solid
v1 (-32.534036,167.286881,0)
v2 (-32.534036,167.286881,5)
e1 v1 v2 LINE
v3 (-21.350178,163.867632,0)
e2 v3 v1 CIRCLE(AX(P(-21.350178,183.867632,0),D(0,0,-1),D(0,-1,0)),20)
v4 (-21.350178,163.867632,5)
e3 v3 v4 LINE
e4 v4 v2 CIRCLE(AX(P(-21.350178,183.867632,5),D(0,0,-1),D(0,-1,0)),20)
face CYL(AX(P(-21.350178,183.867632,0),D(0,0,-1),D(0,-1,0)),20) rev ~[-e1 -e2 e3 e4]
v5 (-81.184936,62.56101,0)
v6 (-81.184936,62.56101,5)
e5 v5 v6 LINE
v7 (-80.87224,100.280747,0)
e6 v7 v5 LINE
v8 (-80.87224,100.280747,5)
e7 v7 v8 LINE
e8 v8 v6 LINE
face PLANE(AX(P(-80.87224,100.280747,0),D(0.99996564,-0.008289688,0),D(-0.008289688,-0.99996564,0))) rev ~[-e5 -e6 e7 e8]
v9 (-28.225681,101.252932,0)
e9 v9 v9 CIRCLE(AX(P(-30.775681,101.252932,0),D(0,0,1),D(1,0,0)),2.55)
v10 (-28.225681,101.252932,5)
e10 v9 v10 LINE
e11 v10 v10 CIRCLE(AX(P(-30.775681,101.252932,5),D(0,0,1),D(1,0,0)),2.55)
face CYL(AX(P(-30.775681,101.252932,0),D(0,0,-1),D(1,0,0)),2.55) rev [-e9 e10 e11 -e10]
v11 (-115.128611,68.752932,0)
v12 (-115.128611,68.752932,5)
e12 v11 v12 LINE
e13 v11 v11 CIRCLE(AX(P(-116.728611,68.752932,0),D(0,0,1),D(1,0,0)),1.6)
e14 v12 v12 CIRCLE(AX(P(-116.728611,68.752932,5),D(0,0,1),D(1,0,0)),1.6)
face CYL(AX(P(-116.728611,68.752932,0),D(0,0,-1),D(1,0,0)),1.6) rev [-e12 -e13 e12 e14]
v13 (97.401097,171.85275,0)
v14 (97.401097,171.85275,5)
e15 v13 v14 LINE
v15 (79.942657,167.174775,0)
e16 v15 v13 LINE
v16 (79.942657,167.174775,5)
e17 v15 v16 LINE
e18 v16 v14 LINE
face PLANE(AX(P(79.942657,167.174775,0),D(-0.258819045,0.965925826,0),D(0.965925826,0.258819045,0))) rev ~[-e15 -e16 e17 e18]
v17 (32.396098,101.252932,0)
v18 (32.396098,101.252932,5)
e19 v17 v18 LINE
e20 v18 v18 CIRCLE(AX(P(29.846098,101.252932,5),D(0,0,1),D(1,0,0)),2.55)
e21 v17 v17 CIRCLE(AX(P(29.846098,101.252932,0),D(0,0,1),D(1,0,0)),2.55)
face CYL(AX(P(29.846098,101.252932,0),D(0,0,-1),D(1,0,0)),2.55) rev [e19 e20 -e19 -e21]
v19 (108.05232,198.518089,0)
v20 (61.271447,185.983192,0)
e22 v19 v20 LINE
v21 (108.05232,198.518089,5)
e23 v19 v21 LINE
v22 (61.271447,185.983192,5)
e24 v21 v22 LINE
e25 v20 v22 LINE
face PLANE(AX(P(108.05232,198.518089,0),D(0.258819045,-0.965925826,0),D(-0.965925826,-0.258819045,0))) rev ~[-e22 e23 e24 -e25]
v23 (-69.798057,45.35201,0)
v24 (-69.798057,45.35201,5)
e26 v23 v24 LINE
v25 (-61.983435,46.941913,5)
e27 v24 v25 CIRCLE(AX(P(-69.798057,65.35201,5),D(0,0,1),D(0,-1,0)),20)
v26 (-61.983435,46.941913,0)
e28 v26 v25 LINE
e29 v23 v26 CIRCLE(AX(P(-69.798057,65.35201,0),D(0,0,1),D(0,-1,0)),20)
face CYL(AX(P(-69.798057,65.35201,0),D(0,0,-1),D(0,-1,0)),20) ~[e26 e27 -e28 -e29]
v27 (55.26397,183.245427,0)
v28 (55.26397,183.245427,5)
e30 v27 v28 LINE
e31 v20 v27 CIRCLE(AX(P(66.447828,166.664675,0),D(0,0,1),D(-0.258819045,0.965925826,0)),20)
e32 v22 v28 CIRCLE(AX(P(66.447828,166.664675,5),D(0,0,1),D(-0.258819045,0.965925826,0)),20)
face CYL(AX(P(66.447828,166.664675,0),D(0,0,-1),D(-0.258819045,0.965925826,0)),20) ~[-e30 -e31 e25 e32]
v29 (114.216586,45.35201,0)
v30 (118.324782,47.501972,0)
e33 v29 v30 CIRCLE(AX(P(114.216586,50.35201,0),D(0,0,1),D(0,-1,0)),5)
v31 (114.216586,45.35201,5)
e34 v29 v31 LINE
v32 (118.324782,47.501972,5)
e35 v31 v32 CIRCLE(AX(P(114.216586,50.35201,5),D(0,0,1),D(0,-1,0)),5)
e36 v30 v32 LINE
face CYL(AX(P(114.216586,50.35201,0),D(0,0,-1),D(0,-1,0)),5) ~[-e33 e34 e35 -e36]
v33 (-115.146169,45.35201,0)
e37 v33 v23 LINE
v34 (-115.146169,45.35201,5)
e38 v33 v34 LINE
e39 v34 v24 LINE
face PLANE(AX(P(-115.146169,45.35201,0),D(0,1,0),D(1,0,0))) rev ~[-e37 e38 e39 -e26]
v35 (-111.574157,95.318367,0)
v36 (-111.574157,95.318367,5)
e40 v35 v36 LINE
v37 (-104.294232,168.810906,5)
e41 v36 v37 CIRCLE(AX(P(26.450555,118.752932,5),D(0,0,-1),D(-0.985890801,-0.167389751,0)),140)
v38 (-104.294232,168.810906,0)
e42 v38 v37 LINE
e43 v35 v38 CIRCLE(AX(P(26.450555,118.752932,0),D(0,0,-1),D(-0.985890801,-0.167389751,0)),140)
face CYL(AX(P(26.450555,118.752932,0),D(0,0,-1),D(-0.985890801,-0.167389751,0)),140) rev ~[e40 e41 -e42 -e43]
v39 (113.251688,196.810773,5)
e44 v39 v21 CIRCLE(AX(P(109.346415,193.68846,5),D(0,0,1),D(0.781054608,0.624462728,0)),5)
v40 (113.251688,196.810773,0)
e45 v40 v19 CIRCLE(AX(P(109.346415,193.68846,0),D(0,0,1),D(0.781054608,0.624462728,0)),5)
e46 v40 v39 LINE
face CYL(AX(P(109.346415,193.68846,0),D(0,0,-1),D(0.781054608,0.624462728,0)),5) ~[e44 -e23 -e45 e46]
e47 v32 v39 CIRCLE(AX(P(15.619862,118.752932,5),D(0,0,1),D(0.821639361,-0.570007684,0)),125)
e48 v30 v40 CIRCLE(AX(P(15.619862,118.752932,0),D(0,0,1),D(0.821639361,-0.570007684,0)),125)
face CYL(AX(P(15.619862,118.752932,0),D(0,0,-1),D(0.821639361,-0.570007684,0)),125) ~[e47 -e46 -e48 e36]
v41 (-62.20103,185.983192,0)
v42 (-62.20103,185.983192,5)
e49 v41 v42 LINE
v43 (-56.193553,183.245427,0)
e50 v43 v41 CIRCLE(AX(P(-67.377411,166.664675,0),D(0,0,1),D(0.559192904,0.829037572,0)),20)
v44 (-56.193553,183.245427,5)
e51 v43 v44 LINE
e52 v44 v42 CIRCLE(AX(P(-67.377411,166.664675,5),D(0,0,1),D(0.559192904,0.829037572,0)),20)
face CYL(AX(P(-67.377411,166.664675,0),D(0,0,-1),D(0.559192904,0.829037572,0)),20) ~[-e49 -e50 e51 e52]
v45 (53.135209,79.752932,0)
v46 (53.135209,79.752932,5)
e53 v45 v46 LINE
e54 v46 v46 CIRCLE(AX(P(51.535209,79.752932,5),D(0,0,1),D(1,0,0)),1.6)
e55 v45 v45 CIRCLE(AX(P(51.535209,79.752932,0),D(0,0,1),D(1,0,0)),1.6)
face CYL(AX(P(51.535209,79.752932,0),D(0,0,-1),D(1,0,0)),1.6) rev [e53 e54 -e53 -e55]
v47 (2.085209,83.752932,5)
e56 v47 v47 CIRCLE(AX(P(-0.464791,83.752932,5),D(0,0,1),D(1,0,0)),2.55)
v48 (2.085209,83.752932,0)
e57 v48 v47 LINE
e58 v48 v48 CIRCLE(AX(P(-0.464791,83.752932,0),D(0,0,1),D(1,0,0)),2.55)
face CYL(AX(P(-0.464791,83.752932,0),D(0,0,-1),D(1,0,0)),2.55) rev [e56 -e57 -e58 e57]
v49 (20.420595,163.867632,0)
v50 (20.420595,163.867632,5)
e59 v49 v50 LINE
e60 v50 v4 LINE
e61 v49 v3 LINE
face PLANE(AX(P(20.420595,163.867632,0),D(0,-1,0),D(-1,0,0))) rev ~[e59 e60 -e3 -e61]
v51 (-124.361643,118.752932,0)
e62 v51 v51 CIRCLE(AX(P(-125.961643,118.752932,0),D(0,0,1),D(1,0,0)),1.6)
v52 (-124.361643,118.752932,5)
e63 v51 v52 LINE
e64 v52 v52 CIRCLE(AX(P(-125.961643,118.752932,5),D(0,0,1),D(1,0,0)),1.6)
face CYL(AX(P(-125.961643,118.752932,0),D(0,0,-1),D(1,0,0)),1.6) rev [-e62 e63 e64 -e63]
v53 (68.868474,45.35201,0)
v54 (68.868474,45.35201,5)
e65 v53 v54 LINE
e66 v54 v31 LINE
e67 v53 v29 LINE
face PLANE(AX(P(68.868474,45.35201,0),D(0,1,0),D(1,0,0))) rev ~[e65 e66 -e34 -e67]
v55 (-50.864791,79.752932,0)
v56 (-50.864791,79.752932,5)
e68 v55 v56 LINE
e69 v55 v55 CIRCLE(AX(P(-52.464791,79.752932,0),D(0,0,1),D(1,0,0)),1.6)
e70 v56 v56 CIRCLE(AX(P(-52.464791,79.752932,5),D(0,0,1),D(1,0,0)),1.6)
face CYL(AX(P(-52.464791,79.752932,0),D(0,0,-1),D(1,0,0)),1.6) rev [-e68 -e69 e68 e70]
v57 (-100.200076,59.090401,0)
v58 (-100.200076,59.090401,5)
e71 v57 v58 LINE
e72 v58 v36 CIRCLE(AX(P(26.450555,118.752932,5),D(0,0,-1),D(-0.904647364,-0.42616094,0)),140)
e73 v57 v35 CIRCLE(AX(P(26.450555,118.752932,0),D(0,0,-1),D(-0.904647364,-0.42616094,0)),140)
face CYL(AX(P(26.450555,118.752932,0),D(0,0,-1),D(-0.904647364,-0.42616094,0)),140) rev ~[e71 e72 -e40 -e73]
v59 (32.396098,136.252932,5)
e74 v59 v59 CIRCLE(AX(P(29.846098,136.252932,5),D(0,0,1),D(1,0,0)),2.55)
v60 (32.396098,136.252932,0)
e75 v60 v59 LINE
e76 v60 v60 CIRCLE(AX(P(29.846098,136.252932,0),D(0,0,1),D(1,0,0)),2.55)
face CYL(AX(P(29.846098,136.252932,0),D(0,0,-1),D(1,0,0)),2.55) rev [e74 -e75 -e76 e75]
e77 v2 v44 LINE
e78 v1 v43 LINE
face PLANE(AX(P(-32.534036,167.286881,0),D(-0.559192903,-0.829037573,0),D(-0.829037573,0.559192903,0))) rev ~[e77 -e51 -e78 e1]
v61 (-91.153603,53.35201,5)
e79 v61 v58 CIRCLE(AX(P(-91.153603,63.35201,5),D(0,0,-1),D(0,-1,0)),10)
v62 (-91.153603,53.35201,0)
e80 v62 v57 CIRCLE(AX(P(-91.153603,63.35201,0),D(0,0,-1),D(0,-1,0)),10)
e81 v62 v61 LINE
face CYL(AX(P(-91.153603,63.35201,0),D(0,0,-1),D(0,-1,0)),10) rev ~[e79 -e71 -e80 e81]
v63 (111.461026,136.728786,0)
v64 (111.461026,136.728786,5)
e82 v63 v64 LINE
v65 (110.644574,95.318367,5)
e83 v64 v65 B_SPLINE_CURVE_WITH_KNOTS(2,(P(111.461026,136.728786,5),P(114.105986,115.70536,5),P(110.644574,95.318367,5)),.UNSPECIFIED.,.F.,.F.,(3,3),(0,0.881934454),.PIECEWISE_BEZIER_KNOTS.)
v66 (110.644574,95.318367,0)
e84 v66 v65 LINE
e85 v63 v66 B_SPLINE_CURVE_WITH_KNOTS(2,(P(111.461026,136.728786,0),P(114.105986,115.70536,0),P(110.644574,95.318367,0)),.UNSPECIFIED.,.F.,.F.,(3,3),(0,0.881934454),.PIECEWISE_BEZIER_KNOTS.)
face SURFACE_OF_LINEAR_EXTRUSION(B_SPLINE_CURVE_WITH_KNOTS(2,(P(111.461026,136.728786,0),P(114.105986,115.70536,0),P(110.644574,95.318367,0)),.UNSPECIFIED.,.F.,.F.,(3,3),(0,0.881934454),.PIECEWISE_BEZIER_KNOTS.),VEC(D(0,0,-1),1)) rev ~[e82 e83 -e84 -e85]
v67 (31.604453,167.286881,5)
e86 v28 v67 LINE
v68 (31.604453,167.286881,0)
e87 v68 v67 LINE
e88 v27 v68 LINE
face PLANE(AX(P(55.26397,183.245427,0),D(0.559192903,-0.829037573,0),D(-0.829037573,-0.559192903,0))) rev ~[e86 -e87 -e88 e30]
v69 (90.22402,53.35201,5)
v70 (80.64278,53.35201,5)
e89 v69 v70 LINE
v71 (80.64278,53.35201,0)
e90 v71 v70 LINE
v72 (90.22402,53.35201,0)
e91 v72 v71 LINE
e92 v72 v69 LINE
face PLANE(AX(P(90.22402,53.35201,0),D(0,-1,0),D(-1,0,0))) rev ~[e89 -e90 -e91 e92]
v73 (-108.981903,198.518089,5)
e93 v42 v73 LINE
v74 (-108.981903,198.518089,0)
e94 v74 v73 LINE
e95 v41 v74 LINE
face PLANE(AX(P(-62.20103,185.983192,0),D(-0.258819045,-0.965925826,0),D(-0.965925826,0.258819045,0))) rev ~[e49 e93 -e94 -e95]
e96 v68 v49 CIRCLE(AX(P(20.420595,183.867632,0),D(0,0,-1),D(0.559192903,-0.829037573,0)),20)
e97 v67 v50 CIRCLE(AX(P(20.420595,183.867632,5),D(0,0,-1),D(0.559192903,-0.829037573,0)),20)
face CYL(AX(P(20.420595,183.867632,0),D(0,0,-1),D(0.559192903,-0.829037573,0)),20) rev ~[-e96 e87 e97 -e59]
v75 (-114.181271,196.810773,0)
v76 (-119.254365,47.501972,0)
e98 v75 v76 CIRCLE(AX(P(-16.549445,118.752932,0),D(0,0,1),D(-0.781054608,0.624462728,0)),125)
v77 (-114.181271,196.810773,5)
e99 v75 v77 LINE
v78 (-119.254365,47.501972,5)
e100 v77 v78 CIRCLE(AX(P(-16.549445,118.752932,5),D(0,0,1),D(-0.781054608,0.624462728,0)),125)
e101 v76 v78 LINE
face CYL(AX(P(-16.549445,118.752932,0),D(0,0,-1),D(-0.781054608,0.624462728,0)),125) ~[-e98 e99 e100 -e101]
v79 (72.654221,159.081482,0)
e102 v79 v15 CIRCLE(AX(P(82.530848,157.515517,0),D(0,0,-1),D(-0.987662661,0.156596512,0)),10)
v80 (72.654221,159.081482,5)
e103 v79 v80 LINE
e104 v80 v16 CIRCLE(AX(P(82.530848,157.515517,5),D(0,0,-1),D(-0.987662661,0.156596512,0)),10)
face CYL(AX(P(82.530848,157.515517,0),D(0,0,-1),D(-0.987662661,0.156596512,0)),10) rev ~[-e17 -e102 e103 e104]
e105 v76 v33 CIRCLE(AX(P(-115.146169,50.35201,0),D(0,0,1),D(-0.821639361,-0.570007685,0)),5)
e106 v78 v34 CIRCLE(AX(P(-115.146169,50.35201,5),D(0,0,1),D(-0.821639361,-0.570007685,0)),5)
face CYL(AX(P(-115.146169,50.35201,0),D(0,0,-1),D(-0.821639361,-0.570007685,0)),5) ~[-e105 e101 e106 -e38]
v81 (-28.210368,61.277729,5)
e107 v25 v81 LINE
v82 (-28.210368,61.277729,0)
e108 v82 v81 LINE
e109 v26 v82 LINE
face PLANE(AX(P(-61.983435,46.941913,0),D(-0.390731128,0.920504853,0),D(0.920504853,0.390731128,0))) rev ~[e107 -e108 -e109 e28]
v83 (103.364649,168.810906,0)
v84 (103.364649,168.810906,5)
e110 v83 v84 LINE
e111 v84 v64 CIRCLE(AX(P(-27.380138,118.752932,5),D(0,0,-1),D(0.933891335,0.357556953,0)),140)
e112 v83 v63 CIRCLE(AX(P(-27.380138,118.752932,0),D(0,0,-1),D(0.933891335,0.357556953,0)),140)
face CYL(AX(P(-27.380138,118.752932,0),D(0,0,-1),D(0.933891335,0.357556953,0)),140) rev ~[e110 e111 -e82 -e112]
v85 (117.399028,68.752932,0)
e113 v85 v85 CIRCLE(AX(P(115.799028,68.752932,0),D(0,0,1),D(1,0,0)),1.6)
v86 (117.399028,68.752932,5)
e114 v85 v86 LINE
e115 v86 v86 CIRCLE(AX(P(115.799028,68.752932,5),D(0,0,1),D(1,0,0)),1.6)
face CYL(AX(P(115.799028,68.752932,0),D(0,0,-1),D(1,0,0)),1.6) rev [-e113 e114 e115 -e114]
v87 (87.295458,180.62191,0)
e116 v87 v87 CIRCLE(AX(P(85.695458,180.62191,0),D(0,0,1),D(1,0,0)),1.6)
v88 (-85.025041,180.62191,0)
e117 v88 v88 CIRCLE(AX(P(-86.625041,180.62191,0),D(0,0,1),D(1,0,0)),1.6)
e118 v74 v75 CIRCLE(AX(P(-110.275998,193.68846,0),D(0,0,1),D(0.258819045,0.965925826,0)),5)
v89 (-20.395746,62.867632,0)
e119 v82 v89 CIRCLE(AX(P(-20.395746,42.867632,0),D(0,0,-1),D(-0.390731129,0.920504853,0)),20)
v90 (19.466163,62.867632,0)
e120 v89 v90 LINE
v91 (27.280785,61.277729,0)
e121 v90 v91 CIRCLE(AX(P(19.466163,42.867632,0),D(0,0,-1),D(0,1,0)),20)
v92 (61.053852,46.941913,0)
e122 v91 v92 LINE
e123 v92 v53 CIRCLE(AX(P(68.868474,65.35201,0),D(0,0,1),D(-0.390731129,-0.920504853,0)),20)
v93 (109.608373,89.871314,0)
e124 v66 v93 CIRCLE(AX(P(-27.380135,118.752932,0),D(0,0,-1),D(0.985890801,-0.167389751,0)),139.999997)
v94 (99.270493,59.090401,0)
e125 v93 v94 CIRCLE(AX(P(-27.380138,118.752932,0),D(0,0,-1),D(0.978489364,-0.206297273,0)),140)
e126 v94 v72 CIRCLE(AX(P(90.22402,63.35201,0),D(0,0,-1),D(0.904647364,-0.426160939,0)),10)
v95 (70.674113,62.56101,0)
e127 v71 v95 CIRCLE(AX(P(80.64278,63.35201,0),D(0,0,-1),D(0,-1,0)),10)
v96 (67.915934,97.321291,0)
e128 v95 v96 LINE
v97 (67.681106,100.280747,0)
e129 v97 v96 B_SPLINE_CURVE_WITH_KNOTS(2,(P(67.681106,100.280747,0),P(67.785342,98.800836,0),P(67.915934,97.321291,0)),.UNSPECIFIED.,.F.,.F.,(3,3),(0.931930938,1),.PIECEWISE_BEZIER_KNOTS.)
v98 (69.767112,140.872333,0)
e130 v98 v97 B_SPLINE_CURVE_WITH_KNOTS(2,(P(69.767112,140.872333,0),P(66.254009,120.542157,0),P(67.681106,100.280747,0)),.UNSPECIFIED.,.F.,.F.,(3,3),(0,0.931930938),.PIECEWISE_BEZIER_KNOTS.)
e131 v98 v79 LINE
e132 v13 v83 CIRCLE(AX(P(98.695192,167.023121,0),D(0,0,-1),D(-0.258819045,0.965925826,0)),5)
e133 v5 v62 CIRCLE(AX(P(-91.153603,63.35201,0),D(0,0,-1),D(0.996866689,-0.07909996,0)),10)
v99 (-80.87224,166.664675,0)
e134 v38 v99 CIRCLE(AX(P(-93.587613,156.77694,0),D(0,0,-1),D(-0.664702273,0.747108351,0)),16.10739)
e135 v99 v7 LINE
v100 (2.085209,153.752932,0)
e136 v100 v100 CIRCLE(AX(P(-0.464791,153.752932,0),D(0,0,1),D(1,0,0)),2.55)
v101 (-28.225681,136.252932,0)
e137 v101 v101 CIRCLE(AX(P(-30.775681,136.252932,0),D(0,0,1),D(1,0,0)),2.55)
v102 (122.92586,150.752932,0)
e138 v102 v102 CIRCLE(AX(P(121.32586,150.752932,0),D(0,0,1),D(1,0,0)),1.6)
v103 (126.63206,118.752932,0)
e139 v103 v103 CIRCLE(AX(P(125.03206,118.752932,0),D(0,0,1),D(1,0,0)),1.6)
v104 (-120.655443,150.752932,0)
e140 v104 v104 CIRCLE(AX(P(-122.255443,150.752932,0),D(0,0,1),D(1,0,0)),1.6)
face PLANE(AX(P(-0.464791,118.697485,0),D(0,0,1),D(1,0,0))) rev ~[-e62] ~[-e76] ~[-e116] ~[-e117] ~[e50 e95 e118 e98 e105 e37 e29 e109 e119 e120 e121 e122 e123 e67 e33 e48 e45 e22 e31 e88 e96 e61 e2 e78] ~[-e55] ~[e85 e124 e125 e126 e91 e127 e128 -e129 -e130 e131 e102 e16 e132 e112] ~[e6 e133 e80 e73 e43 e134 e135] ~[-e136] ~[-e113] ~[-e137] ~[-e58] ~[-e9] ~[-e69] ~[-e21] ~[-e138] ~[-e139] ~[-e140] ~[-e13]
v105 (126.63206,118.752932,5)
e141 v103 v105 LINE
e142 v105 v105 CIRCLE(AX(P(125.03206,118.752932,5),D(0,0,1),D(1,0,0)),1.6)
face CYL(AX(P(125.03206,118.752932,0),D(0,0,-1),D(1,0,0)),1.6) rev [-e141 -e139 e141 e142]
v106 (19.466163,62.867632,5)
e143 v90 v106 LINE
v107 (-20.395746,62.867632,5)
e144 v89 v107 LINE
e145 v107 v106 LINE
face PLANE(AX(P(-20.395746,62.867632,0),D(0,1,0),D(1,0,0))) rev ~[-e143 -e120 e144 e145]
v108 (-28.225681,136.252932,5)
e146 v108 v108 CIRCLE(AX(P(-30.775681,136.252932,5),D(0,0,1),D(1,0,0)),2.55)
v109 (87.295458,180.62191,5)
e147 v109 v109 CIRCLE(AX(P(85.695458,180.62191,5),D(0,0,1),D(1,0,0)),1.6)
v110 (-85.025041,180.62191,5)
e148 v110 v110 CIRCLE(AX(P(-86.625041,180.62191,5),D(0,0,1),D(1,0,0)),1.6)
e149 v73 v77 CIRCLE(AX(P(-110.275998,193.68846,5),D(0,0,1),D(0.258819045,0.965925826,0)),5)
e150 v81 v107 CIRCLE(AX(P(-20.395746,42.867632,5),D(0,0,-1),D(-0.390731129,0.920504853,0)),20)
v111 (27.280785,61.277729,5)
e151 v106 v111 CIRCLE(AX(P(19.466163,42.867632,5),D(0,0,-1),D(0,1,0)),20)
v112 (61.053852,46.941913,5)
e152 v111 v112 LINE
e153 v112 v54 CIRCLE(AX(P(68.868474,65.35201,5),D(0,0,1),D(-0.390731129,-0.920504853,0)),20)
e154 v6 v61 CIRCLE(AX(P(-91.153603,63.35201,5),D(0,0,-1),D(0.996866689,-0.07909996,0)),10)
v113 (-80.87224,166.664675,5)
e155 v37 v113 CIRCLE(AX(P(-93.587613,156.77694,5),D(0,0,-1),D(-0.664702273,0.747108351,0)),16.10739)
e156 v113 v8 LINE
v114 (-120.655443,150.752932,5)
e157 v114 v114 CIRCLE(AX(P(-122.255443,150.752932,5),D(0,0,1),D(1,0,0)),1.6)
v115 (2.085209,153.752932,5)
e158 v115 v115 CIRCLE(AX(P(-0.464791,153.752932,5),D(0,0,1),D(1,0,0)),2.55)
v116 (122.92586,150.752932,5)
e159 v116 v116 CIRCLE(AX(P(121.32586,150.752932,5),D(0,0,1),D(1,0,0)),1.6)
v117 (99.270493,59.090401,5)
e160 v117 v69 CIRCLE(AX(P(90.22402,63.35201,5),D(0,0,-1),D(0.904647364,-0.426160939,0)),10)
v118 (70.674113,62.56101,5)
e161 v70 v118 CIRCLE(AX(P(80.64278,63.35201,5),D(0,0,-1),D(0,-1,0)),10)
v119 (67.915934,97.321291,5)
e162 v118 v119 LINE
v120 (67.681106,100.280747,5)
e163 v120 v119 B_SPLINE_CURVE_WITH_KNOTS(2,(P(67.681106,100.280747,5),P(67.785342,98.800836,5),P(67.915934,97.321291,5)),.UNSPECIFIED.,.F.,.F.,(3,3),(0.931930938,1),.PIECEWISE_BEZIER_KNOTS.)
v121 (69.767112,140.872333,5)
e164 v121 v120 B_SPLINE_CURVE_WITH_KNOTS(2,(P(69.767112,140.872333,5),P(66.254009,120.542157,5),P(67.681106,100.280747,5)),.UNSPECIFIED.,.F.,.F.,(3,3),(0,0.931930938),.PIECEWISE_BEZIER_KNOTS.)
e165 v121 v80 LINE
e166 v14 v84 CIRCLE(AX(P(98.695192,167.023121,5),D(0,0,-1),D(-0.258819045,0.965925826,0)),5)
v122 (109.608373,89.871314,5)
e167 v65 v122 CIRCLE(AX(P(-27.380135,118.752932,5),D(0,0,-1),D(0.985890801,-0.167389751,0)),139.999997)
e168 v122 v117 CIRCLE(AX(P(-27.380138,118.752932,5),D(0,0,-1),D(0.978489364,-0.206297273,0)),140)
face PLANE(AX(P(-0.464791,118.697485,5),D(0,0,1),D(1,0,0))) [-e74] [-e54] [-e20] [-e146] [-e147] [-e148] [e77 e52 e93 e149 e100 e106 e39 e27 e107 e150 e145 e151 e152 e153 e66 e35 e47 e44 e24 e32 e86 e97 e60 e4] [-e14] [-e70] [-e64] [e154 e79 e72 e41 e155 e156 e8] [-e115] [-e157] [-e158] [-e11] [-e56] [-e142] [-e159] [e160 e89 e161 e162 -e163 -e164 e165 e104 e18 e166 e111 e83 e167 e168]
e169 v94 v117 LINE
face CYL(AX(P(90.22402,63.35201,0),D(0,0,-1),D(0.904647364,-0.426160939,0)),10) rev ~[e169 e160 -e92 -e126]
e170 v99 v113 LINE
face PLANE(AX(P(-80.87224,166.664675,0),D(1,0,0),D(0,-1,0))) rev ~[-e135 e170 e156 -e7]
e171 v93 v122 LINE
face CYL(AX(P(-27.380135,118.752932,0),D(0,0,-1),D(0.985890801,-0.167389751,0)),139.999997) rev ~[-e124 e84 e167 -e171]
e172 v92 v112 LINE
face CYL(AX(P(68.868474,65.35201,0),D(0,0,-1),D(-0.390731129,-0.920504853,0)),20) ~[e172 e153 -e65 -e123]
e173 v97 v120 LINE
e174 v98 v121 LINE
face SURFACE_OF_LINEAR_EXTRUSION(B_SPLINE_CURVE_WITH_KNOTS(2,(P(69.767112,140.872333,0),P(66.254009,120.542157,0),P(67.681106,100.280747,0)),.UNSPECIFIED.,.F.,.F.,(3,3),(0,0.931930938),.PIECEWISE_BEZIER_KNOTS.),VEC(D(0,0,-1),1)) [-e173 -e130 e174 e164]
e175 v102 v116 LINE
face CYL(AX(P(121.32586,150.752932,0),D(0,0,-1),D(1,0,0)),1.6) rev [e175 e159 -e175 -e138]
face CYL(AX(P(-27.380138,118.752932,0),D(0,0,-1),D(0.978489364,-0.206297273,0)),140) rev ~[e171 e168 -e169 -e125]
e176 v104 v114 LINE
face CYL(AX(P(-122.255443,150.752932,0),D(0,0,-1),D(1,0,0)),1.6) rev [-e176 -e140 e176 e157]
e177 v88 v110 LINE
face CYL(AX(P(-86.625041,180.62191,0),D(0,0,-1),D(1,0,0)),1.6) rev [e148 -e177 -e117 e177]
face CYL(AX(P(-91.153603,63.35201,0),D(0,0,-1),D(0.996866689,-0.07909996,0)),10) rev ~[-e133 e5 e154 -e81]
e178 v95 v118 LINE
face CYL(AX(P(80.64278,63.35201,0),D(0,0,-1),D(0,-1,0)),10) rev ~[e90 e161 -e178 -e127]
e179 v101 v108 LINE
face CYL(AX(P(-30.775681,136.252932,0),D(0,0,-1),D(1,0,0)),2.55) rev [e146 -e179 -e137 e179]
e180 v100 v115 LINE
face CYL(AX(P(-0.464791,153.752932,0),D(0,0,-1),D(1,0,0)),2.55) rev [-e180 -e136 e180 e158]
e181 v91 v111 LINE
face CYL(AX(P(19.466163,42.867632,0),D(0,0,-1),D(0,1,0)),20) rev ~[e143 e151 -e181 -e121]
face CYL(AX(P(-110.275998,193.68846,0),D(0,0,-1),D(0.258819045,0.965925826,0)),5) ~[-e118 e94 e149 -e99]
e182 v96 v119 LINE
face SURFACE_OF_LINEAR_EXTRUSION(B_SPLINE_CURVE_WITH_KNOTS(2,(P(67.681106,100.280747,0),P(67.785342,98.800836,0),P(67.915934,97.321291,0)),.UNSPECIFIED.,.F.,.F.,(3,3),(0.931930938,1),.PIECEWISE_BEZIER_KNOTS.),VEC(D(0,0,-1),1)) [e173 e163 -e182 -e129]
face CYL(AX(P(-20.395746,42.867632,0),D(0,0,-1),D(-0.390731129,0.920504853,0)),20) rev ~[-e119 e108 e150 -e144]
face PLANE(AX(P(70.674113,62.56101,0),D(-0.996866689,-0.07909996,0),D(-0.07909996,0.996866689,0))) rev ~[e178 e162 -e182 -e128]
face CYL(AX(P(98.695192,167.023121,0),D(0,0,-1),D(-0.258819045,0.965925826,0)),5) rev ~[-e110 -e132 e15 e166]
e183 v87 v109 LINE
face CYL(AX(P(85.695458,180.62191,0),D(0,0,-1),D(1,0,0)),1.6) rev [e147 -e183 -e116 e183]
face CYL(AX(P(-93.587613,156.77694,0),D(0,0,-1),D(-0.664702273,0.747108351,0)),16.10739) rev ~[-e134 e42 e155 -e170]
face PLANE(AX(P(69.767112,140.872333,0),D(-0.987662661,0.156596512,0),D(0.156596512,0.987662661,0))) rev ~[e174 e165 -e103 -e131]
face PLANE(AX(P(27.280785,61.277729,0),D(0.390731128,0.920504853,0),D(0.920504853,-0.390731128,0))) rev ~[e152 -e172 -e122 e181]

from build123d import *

# Parameters (mm, degrees)
SKETCH7_R           = 1.6
SKETCH7_R_2         = 2.55
BOSS_EXTRUDE2_DEPTH = 5


with BuildPart() as part:
    # Sketch7 → Boss-Extrude2 (new body)
    with BuildSketch(Plane(origin=(-155.165218795, 0, 0), x_dir=(1, 0, 0), z_dir=(0, 0, 1))):
        with BuildLine():
            ThreePointArc((186.769671741, 167.286880781), (181.433247766, 164.741537113), (175.585813672, 163.867632232))
            Line((175.585813672, 163.867632232), (133.81504093, 163.867632232))
            ThreePointArc((133.81504093, 163.867632232), (127.967606836, 164.741537113), (122.631182861, 167.286880781))
            Line((122.631182861, 167.286880781), (98.971665752, 183.245426575))
            ThreePointArc((98.971665752, 183.245426575), (96.081672536, 184.863900542), (92.964188585, 185.98319165))
            Line((92.964188585, 185.98319165), (46.183315852, 198.51808872))
            ThreePointArc((46.183315852, 198.51808872), (43.329318726, 198.438902311), (40.983947586, 196.81077323))
            ThreePointArc((40.983947586, 196.81077323), (13.687864292, 122.997631993), (35.910853464, 47.501971622))
            ThreePointArc((35.910853464, 47.501971622), (37.700666361, 45.921987917), (40.019050269, 45.352010045))
            Line((40.019050269, 45.352010045), (85.367161343, 45.352010045))
            ThreePointArc((85.367161343, 45.352010045), (89.354520031, 45.753515952), (93.181783913, 46.941912976))
            Line((93.181783913, 46.941912976), (126.95485072, 61.277729301))
            ThreePointArc((126.95485072, 61.277729301), (130.782114601, 62.466126325), (134.769473289, 62.867632232))
            Line((134.769473289, 62.867632232), (174.631381312, 62.867632232))
            ThreePointArc((174.631381312, 62.867632232), (178.618740001, 62.466126325), (182.446003882, 61.277729301))
            Line((182.446003882, 61.277729301), (216.219070689, 46.941912976))
            ThreePointArc((216.219070689, 46.941912976), (220.04633457, 45.753515952), (224.033693259, 45.352010045))
            Line((224.033693259, 45.352010045), (269.381804333, 45.352010045))
            ThreePointArc((269.381804333, 45.352010045), (271.70018824, 45.921987917), (273.490001138, 47.501971622))
            ThreePointArc((273.490001138, 47.501971622), (295.712990309, 122.997631993), (268.416907015, 196.81077323))
            ThreePointArc((268.416907015, 196.81077323), (266.071535876, 198.438902311), (263.217538749, 198.51808872))
            Line((263.217538749, 198.51808872), (216.436666017, 185.98319165))
            ThreePointArc((216.436666017, 185.98319165), (213.319182066, 184.863900542), (210.42918885, 183.245426575))
            Line((210.42918885, 183.245426575), (186.769671741, 167.286880781))
        make_face()
        with Locations((38.436607979, 68.752932179)):
            Circle(SKETCH7_R, mode=Mode.SUBTRACT)
        with Locations((102.700427301, 79.752932179)):
            Circle(SKETCH7_R, mode=Mode.SUBTRACT)
        with Locations((29.203576285, 118.752932179)):
            Circle(SKETCH7_R, mode=Mode.SUBTRACT)
        with BuildLine():
            ThreePointArc((50.870986739, 168.810905662), (63.047418465, 172.817129133), (74.292978733, 166.664675124))
            Line((74.292978733, 166.664675124), (74.292978733, 100.280747179))
            Line((74.292978733, 100.280747179), (73.980283138, 62.561010441))
            ThreePointArc((73.980283138, 62.561010441), (70.797263007, 56.006603452), (64.011616245, 53.352010045))
            ThreePointArc((64.011616245, 53.352010045), (58.655129241, 54.907600831), (54.965142603, 59.09040065))
            ThreePointArc((54.965142603, 59.09040065), (48.044160974, 76.816977425), (43.591061483, 95.318366989))
            ThreePointArc((43.591061483, 95.318366989), (42.297615396, 132.553323304), (50.870986739, 168.810905662))
        make_face(mode=Mode.SUBTRACT)
        with Locations((124.389538168, 101.252932179)):
            Circle(SKETCH7_R_2, mode=Mode.SUBTRACT)
        with Locations((206.700427301, 79.752932179)):
            Circle(SKETCH7_R, mode=Mode.SUBTRACT)
        with Locations((270.964246623, 68.752932179)):
            Circle(SKETCH7_R, mode=Mode.SUBTRACT)
        with Locations((154.700427301, 83.752932179)):
            Circle(SKETCH7_R_2, mode=Mode.SUBTRACT)
        with Locations((185.011316433, 101.252932179)):
            Circle(SKETCH7_R_2, mode=Mode.SUBTRACT)
        with BuildLine():
            Line((235.107875868, 167.174775102), (252.566315963, 171.852750026))
            ThreePointArc((252.566315963, 171.852750026), (256.132298182, 171.477167312), (258.529867862, 168.810905662))
            ThreePointArc((258.529867862, 168.810905662), (263.529184961, 153.009876594), (266.626244503, 136.728785929))
            add(Edge.make_bspline(
                [(266.626244503, 136.728785929), (269.27120455, 115.705359984), (265.809793118, 95.318366989)],
                knots=[0, 0, 0, 0.881934454, 0.881934454, 0.881934454], degree=2))
            ThreePointArc((265.809793118, 95.318366989), (265.318661666, 92.589710086), (264.773591938, 89.871313942))
            ThreePointArc((264.773591938, 89.871313942), (260.500059228, 74.180131562), (254.435711999, 59.09040065))
            ThreePointArc((254.435711999, 59.09040065), (250.745725361, 54.907600831), (245.389238357, 53.352010045))
            Line((245.389238357, 53.352010045), (235.807999121, 53.352010045))
            ThreePointArc((235.807999121, 53.352010045), (229.022352359, 56.006603452), (225.839332228, 62.561010441))
            Line((225.839332228, 62.561010441), (223.081153151, 97.32129138))
            add(Edge.make_bspline(
                [(222.846324523, 100.280747179), (222.950560925, 98.800835847), (223.081153151, 97.32129138)],
                knots=[0.931930938, 0.931930938, 0.931930938, 1, 1, 1], degree=2))
            add(Edge.make_bspline(
                [(224.932331274, 140.872333064), (221.419227915, 120.542156926), (222.846324523, 100.280747179)],
                knots=[0, 0, 0, 0.931930938, 0.931930938, 0.931930938], degree=2))
            Line((224.932331274, 140.872333064), (227.819439706, 159.081481956))
            ThreePointArc((227.819439706, 159.081481956), (230.265167007, 164.207432514), (235.107875868, 167.174775102))
        make_face(mode=Mode.SUBTRACT)
        with Locations((280.197278317, 118.752932179)):
            Circle(SKETCH7_R, mode=Mode.SUBTRACT)
        with Locations((32.909775986, 150.752932179)):
            Circle(SKETCH7_R, mode=Mode.SUBTRACT)
        with Locations((124.389538168, 136.252932179)):
            Circle(SKETCH7_R_2, mode=Mode.SUBTRACT)
        with Locations((68.540177705, 180.621909566)):
            Circle(SKETCH7_R, mode=Mode.SUBTRACT)
        with Locations((185.011316433, 136.252932179)):
            Circle(SKETCH7_R_2, mode=Mode.SUBTRACT)
        with Locations((154.700427301, 153.752932179)):
            Circle(SKETCH7_R_2, mode=Mode.SUBTRACT)
        with Locations((276.491078616, 150.752932179)):
            Circle(SKETCH7_R, mode=Mode.SUBTRACT)
        with Locations((240.860676897, 180.621909566)):
            Circle(SKETCH7_R, mode=Mode.SUBTRACT)
    extrude(amount=BOSS_EXTRUDE2_DEPTH)


solid = part.part
